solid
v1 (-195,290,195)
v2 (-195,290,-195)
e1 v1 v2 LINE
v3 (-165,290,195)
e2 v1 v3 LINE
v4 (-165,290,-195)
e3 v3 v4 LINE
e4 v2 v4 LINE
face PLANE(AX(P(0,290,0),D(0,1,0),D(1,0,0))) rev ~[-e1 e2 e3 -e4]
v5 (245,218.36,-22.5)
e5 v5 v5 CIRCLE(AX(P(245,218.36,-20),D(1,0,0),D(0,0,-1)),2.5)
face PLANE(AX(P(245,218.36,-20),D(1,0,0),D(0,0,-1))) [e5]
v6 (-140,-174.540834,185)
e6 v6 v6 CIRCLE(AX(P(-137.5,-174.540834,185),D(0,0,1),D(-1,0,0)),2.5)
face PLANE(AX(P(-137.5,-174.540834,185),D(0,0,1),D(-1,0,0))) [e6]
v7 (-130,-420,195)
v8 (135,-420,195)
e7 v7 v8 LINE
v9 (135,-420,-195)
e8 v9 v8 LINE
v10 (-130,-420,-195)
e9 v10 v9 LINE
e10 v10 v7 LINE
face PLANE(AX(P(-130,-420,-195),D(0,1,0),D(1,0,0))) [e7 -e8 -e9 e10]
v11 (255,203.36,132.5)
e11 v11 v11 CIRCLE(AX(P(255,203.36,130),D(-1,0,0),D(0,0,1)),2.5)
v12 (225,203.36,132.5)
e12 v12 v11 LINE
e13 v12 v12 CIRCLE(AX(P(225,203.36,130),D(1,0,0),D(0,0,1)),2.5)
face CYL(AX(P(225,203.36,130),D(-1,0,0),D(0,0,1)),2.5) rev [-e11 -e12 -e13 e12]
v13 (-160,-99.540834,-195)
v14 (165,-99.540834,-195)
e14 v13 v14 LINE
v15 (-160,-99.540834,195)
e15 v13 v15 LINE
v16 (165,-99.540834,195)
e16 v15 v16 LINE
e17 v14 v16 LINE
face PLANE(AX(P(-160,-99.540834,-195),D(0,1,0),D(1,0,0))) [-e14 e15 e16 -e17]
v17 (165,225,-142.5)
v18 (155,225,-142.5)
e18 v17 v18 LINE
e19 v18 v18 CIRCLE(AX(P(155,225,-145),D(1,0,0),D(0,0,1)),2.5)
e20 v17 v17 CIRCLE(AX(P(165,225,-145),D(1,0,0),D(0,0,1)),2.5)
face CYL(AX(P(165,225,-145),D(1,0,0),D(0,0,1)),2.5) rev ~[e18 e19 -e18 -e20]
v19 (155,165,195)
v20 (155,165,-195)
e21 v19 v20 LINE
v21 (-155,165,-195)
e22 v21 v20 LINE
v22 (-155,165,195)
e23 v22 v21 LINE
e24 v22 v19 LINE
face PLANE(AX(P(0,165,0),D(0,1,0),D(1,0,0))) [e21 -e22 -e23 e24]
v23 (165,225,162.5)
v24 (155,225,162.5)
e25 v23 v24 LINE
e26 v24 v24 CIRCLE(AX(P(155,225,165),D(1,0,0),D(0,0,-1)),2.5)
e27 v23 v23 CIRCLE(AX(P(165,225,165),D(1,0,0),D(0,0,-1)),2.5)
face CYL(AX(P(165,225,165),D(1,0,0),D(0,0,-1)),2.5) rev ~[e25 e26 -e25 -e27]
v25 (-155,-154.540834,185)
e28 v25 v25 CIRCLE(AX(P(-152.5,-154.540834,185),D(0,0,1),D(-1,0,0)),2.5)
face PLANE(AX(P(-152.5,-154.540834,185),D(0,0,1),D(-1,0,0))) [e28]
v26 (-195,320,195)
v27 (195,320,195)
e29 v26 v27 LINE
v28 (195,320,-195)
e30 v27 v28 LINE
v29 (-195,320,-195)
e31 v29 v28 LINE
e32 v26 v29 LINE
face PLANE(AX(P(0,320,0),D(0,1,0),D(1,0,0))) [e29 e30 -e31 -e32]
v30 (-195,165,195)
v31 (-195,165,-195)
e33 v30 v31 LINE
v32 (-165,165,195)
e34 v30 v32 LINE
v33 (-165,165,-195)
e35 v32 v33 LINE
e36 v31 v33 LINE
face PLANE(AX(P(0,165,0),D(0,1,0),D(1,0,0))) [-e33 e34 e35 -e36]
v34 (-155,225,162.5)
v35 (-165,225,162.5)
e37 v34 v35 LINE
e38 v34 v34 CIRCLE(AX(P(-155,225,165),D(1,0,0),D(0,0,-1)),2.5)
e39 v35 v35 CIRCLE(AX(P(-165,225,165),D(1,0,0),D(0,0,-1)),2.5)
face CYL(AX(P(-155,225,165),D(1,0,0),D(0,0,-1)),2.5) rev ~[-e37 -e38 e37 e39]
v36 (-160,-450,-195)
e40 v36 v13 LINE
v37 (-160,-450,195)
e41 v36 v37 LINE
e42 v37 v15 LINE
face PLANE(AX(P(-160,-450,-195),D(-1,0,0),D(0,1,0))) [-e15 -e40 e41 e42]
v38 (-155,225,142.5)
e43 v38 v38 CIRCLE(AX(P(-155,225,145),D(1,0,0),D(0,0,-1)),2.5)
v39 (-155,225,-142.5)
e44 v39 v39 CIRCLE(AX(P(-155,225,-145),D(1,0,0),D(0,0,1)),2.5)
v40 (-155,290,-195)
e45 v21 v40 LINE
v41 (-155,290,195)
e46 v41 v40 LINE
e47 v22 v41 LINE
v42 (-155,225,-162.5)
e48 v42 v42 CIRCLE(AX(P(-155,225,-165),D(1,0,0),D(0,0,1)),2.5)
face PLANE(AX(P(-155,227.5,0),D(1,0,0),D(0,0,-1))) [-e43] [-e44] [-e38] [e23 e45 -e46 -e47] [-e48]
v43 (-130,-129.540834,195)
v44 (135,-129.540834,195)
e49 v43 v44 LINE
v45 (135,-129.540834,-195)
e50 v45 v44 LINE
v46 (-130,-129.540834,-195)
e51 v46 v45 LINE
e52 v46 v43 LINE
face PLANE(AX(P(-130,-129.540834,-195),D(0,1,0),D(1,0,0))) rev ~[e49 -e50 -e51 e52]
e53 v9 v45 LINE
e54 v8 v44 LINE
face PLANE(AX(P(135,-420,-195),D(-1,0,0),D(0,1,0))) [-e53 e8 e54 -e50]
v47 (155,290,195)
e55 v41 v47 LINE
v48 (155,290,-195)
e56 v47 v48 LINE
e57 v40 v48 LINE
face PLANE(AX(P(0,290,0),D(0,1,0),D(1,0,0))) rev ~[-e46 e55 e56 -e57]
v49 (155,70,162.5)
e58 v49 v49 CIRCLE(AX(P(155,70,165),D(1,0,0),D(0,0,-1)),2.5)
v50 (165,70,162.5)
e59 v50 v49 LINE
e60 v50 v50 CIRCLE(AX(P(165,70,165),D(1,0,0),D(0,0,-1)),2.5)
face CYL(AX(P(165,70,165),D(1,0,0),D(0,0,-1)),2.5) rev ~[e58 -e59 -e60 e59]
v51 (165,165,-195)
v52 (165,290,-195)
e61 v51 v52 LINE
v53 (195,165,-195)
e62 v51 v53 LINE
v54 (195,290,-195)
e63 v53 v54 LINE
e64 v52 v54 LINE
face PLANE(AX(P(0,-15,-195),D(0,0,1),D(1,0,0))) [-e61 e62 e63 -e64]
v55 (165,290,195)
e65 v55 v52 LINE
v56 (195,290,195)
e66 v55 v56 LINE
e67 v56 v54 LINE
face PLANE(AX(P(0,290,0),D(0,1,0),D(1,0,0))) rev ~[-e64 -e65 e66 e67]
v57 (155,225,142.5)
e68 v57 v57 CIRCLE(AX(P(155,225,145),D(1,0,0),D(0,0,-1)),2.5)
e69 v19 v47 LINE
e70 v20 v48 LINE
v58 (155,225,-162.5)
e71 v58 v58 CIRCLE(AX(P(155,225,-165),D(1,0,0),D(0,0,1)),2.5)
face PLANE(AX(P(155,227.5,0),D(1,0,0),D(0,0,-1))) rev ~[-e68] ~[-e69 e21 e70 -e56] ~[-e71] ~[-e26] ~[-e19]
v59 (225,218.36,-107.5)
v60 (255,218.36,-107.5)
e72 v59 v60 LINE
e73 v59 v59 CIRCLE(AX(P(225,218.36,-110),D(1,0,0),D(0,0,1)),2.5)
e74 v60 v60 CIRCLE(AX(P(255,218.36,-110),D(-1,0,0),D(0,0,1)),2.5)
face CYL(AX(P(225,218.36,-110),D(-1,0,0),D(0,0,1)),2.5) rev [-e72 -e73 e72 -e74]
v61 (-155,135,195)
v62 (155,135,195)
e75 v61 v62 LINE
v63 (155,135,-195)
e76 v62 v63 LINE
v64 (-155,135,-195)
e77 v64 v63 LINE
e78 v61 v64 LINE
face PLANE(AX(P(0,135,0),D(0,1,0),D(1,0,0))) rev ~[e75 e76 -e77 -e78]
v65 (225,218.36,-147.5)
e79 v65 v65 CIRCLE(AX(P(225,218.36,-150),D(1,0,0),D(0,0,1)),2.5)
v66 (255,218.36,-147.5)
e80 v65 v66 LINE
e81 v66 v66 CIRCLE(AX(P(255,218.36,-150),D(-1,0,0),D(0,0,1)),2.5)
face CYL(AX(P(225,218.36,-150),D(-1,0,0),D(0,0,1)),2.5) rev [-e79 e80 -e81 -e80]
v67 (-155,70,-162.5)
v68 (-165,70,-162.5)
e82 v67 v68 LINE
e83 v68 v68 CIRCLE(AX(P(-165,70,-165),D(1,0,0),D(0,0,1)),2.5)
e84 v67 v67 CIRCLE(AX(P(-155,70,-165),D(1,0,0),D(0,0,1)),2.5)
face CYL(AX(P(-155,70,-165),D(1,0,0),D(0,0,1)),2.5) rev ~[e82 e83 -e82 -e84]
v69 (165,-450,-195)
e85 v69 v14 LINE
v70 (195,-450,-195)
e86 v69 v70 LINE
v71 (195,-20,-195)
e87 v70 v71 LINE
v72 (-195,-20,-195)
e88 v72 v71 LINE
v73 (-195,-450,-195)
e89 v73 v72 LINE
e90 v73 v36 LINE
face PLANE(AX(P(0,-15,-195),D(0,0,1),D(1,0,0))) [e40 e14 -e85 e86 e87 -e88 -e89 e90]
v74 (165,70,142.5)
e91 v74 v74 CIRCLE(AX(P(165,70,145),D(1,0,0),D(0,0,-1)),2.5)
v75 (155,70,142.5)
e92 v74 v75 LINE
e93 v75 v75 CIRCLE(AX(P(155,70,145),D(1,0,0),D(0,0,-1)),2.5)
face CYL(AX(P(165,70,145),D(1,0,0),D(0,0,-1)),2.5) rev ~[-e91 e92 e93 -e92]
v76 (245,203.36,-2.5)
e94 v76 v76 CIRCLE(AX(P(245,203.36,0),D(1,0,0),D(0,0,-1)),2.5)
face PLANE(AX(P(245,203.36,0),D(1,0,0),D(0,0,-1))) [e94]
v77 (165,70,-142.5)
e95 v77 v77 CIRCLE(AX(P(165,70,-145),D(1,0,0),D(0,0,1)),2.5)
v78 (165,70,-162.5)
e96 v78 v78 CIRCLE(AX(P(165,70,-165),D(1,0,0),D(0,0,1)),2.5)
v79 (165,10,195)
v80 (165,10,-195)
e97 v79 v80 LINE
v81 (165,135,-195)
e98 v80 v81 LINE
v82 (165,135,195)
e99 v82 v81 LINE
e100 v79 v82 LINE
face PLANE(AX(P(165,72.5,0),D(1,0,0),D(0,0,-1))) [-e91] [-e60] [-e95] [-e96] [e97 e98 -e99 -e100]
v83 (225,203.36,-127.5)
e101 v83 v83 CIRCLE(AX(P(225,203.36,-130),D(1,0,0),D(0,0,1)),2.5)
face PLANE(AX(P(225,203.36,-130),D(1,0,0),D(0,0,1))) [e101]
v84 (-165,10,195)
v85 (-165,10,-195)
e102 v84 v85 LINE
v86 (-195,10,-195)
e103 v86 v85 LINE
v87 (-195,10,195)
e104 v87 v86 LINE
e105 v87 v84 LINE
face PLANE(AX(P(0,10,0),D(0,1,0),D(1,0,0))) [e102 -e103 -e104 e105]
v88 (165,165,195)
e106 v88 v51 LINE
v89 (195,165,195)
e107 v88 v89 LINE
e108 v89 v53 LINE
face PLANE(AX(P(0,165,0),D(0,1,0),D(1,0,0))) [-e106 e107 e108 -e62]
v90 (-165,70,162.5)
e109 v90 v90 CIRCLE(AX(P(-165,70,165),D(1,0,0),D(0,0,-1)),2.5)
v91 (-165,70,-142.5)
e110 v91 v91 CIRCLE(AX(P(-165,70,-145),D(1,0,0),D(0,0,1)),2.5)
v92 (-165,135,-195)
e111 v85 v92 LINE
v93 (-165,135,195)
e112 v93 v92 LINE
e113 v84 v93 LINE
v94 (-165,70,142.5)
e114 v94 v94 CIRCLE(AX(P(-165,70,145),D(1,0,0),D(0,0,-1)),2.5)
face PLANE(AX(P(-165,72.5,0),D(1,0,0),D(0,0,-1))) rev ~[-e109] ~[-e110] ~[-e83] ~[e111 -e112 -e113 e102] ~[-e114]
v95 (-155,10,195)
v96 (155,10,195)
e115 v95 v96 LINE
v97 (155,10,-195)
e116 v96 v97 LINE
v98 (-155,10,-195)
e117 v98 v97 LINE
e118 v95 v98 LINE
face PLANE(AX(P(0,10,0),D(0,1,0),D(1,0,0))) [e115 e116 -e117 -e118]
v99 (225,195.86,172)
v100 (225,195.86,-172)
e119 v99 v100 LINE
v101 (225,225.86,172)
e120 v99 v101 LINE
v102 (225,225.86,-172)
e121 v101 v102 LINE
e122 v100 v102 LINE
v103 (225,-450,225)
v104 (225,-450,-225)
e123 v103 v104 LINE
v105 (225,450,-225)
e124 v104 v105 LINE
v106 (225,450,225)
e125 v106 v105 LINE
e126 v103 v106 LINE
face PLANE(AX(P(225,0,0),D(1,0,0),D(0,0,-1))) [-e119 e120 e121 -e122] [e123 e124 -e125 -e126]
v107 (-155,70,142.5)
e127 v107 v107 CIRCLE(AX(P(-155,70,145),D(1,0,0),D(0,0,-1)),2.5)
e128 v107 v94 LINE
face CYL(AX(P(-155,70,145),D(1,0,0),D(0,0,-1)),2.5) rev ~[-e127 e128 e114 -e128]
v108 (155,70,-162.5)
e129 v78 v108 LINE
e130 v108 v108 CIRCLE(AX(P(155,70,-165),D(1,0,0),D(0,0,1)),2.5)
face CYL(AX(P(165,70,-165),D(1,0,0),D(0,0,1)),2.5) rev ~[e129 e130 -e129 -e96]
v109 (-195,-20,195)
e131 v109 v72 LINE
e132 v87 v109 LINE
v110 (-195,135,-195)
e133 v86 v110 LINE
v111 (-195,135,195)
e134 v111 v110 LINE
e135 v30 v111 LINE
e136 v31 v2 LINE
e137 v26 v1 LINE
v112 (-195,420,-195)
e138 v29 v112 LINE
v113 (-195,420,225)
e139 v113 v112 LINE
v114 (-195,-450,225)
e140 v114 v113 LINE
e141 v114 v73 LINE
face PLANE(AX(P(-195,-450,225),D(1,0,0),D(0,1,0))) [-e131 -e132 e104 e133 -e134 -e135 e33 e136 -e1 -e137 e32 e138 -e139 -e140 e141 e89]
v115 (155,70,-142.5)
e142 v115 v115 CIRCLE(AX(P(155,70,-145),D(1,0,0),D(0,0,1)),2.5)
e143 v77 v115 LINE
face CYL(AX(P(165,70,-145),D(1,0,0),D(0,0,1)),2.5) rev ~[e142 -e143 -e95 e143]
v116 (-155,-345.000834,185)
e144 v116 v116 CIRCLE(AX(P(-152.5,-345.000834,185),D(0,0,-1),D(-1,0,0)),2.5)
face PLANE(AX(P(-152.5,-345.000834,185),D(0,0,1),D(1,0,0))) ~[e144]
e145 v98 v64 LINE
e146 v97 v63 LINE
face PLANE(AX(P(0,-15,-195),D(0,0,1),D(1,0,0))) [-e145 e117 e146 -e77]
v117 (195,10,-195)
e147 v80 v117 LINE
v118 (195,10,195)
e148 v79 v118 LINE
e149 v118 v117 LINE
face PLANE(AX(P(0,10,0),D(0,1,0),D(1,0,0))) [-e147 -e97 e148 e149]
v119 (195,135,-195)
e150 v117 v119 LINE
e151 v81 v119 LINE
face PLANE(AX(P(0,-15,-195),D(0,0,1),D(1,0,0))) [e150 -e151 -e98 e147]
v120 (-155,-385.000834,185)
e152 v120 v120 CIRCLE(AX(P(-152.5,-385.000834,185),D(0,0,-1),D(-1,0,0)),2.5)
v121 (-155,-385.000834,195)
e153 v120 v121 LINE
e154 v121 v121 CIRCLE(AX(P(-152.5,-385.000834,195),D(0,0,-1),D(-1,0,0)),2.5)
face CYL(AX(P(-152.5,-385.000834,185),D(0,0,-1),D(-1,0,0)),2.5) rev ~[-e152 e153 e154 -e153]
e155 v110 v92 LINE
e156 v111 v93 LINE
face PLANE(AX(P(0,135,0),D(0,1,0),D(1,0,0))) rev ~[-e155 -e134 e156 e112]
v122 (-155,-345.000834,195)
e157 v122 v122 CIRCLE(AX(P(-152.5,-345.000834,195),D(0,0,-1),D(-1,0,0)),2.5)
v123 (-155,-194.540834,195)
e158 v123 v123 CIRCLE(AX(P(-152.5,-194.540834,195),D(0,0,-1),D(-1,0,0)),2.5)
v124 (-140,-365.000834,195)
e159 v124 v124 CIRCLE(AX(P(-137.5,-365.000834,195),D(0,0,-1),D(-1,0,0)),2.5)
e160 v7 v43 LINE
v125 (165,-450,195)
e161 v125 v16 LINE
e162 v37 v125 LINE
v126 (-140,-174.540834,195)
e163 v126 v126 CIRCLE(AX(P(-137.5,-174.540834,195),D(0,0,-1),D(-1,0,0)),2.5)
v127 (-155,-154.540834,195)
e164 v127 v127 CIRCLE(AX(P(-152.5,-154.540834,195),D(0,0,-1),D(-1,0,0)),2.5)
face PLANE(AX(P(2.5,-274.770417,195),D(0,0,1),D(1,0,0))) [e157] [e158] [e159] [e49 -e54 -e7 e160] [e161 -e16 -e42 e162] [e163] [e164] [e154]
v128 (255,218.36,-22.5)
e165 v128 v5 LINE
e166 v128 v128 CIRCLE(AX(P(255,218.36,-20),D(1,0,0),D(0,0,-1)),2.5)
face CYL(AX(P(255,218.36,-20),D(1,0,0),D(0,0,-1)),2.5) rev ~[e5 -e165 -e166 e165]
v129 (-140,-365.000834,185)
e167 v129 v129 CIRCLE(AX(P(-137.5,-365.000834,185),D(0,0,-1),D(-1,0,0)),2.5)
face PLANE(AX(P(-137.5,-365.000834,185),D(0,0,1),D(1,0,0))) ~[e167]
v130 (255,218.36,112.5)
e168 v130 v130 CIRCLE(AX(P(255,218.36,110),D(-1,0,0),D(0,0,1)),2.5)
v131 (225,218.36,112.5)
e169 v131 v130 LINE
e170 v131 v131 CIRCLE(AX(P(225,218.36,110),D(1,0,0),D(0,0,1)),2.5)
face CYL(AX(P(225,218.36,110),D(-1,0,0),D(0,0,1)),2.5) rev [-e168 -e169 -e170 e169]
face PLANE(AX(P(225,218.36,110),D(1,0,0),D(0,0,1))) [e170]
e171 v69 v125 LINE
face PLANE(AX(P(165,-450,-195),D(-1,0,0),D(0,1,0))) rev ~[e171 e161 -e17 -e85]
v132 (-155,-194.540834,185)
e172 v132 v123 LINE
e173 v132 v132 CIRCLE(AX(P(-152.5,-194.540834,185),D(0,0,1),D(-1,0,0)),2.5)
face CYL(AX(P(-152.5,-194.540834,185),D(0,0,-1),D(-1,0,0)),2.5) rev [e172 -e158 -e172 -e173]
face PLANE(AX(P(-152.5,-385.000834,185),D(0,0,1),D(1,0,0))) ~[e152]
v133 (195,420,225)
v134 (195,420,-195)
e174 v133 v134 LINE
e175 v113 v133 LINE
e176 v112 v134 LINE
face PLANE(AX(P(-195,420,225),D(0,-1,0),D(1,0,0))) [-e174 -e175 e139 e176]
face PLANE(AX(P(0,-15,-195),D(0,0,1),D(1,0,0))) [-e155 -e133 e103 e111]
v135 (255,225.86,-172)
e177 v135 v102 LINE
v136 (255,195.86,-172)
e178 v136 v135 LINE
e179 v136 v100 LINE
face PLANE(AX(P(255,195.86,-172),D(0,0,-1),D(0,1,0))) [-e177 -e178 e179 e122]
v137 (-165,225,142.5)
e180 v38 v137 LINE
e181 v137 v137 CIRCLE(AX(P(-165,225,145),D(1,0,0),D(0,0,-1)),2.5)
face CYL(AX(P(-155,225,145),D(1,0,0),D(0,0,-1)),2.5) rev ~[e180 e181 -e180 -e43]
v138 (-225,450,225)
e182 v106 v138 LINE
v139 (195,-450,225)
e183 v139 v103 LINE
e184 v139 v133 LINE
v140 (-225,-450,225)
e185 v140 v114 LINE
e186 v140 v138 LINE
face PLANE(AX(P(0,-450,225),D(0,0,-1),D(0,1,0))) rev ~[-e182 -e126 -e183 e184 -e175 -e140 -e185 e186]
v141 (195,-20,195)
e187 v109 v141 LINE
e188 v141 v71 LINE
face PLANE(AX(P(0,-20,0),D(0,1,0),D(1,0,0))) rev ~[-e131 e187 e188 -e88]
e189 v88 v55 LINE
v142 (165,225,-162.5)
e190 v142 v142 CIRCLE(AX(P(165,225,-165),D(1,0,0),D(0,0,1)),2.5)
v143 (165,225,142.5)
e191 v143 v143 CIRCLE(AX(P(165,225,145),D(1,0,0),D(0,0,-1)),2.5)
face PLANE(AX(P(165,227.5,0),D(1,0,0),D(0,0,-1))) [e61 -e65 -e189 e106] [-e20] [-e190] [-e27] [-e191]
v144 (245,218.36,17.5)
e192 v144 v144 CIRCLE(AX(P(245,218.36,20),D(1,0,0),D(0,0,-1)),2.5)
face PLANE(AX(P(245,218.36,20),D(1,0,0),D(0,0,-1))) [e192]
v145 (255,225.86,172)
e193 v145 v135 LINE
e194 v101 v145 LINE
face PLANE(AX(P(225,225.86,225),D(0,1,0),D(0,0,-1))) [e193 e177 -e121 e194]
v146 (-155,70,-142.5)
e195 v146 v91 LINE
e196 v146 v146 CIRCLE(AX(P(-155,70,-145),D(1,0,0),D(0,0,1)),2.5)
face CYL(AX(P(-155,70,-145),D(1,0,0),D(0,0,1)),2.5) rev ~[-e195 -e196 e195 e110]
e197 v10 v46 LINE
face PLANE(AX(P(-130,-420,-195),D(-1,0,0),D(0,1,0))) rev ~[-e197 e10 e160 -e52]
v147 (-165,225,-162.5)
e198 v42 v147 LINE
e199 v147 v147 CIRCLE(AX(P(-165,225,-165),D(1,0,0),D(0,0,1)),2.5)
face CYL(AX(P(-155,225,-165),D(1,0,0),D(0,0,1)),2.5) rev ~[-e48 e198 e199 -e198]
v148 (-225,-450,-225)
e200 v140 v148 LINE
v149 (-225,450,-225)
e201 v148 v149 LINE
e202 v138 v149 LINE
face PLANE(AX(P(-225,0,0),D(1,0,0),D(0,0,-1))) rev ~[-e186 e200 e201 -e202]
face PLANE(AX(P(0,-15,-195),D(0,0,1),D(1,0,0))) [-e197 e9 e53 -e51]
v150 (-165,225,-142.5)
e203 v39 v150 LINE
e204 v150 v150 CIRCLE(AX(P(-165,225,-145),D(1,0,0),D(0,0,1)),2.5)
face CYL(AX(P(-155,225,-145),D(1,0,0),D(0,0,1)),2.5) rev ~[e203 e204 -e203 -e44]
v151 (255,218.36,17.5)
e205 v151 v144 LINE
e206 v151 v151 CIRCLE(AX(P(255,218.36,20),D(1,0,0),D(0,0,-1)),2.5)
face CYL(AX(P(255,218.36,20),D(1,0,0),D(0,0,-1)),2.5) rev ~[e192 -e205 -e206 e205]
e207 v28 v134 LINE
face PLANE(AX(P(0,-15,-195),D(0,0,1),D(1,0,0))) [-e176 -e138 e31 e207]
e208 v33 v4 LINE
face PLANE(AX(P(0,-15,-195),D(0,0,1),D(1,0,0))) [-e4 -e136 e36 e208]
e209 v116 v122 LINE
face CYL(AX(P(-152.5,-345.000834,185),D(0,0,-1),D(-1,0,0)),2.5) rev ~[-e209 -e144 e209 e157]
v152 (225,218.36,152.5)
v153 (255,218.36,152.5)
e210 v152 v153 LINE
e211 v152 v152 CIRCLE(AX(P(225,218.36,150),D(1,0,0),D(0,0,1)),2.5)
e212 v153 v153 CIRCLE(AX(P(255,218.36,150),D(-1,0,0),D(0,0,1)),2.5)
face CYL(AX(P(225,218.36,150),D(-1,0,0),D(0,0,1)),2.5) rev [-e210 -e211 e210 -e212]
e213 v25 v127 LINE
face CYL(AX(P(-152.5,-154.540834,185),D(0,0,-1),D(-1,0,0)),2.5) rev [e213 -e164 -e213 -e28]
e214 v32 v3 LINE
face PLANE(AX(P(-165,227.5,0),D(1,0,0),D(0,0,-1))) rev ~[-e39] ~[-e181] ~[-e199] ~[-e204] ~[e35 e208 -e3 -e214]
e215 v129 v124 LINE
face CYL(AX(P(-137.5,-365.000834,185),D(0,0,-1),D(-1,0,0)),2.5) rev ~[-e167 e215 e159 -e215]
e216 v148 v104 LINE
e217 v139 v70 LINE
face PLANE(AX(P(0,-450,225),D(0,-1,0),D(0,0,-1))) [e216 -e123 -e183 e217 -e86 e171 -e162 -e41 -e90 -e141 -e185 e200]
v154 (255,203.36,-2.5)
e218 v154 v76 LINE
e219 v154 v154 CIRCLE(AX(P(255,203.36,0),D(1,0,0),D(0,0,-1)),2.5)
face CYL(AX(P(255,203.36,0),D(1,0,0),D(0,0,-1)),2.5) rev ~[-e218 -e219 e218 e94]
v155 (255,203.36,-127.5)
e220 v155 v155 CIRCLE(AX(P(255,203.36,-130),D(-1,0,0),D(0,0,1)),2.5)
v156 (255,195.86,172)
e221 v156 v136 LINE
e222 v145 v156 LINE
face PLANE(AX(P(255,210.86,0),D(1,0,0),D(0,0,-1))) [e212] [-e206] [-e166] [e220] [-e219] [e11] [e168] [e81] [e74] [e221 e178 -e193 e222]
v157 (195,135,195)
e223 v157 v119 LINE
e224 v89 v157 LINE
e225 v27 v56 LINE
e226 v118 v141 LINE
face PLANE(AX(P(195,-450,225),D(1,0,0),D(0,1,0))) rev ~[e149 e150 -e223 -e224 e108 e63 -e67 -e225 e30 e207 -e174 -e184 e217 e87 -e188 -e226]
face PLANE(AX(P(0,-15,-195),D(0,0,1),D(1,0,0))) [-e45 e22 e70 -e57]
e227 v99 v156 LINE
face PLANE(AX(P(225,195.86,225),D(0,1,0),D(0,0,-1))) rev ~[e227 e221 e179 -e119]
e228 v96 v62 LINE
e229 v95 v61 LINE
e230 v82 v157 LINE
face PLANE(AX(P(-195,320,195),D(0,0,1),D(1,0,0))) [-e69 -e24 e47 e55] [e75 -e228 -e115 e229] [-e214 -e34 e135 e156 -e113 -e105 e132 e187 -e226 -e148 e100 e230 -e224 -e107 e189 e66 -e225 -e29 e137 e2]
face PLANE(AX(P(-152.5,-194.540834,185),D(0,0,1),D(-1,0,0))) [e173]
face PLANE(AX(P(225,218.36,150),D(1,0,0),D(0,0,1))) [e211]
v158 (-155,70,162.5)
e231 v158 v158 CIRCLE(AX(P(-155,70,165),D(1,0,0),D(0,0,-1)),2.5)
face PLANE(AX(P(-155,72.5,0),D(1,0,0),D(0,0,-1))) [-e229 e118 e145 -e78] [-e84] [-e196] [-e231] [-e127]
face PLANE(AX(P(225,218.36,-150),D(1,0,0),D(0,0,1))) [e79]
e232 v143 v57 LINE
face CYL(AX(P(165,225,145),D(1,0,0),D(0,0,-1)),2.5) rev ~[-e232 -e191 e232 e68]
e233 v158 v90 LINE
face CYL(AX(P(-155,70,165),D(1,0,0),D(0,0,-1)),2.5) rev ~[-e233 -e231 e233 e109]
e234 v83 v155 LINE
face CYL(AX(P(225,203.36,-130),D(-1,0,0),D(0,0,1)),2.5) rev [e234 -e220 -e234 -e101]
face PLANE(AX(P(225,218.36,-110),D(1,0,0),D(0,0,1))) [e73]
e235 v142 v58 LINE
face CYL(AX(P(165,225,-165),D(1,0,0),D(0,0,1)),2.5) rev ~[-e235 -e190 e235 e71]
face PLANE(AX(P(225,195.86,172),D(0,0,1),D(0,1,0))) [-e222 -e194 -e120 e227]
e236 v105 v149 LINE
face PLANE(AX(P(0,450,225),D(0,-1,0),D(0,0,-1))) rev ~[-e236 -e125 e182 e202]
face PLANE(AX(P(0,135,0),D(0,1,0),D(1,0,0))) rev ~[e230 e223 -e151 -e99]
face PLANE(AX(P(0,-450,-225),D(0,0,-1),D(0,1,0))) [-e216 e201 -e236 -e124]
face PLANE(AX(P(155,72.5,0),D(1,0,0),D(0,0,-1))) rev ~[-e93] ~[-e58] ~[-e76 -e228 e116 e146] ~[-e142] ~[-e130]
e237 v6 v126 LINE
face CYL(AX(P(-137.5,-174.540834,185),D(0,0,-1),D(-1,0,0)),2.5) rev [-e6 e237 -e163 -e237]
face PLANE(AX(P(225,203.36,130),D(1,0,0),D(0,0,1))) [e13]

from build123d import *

# Parameters (mm, degrees)
SKETCH1_W            = 450
SKETCH1_H            = 900
BOSS_EXTRUDE1_DEPTH  = 225
SKETCH2_W            = 390
SKETCH2_H            = 870
CUT_EXTRUDE1_DEPTH   = 420
SKETCH3_W            = 390
SKETCH3_H            = 390
BOSS_EXTRUDE2_DEPTH  = 30
LPATTERN1_COUNT      = 3
LPATTERN1_PITCH      = 155
SKETCH5_W            = 325
SKETCH5_H            = 350.459165748
SKETCH5_W_2          = 265
SKETCH5_H_2          = 290.459165748
BOSS_EXTRUDE4_DEPTH  = 390
SKETCH6_W            = 390
SKETCH6_H            = 125
BOSS_EXTRUDE5_DEPTH  = 10
LPATTERN2_COUNT      = 2
LPATTERN2_PITCH      = 155
LPATTERN2_COUNT_DIR2 = 2
LPATTERN2_PITCH_DIR2 = 320
CUT_EXTRUDE2_REACH   = 632.496
SKETCH10_R           = 2.5
LPATTERN3_COUNT      = 2
LPATTERN3_PITCH      = 155
LPATTERN3_COUNT_DIR2 = 2
LPATTERN3_PITCH_DIR2 = 320
SKETCH13_W           = 450
SKETCH13_H           = 30
BOSS_EXTRUDE6_DEPTH  = 30
CUT_EXTRUDE4_REACH   = 677
SKETCH12_R           = 2.5
CUT_EXTRUDE5_START   = -10
SKETCH17_R           = 2.5
CUT_EXTRUDE5_DEPTH   = 677.276969435
SKETCH18_W           = 53
SKETCH18_H           = 30
CUT_EXTRUDE6_DEPTH   = 676
SKETCH19_W           = 53
SKETCH19_H           = 30
CUT_EXTRUDE7_DEPTH   = 30
SKETCH20_R           = 2.5
CUT_EXTRUDE8_DEPTH   = 10


with BuildPart() as part:
    # Sketch1 → Boss-Extrude1 (new, symmetric)
    with BuildSketch(Plane(origin=(0, 0, 0), x_dir=(0, 0, -1), z_dir=(1, 0, 0))):
        Rectangle(SKETCH1_W, SKETCH1_H)
    extrude(amount=BOSS_EXTRUDE1_DEPTH, both=True)

    # Sketch2 → Cut-Extrude1 (cut)
    with BuildSketch(Plane.XY.offset(225)):
        with Locations((0, -15)):
            Rectangle(SKETCH2_W, SKETCH2_H)
    extrude(amount=-CUT_EXTRUDE1_DEPTH, mode=Mode.SUBTRACT)

    # Sketch3 → Boss-Extrude2 (add)
    with BuildSketch(Plane(origin=(0, 320, 0), x_dir=(1, 0, 0), z_dir=(0, 1, 0))):
        Rectangle(SKETCH3_W, SKETCH3_H)
    boss_extrude2 = extrude(amount=-BOSS_EXTRUDE2_DEPTH)

    # LPattern1: Boss-Extrude2 ×3
    with Locations(*[(0, -i * LPATTERN1_PITCH, 0) for i in range(1, LPATTERN1_COUNT)]):
        add(boss_extrude2)

    # Sketch5 → Boss-Extrude4 (add)
    with BuildSketch(Plane.XY.offset(-195)):
        with Locations((2.5, -274.770417126)):
            Rectangle(SKETCH5_W, SKETCH5_H)
        with Locations((2.5, -274.770417126)):
            Rectangle(SKETCH5_W_2, SKETCH5_H_2, mode=Mode.SUBTRACT)
    extrude(amount=BOSS_EXTRUDE4_DEPTH)

    # Sketch6 → Boss-Extrude5 (add)
    with BuildSketch(Plane(origin=(-165, 0, 0), x_dir=(0, 0, -1), z_dir=(1, 0, 0))):
        with Locations((0, 227.5)):
            Rectangle(SKETCH6_W, SKETCH6_H)
    boss_extrude5 = extrude(amount=BOSS_EXTRUDE5_DEPTH)

    # LPattern2: Boss-Extrude5 2 × 2
    with Locations(*[(j * LPATTERN2_PITCH_DIR2, -i * LPATTERN2_PITCH, 0) for i in range(LPATTERN2_COUNT) for j in range(LPATTERN2_COUNT_DIR2) if (i, j) != (0, 0)]):
        add(boss_extrude5)

    # Sketch10 → Cut-Extrude2 (cut, up to next)
    with BuildSketch(Plane(origin=(-155, 0, 0), x_dir=(0, 0, -1), z_dir=(1, 0, 0)), mode=Mode.PRIVATE) as cut_extrude2_sk1:
        with Locations((-165, 225)):
            Circle(SKETCH10_R)
    cut_extrude2_tool1 = extrude(cut_extrude2_sk1.sketch, amount=-CUT_EXTRUDE2_REACH, mode=Mode.PRIVATE) & part.part
    # Sketch10 → Cut-Extrude2 (cut, up to next)
    with BuildSketch(Plane(origin=(-155, 0, 0), x_dir=(0, 0, -1), z_dir=(1, 0, 0)), mode=Mode.PRIVATE) as cut_extrude2_sk2:
        with Locations((-145, 225)):
            Circle(SKETCH10_R)
    cut_extrude2_tool2 = extrude(cut_extrude2_sk2.sketch, amount=-CUT_EXTRUDE2_REACH, mode=Mode.PRIVATE) & part.part
    # Sketch10 → Cut-Extrude2 (cut, up to next)
    with BuildSketch(Plane(origin=(-155, 0, 0), x_dir=(0, 0, -1), z_dir=(1, 0, 0)), mode=Mode.PRIVATE) as cut_extrude2_sk3:
        with Locations(Location((145, 225, 0), (0, 0, 180))):
            Circle(SKETCH10_R)
    cut_extrude2_tool3 = extrude(cut_extrude2_sk3.sketch, amount=-CUT_EXTRUDE2_REACH, mode=Mode.PRIVATE) & part.part
    # Sketch10 → Cut-Extrude2 (cut, up to next)
    with BuildSketch(Plane(origin=(-155, 0, 0), x_dir=(0, 0, -1), z_dir=(1, 0, 0)), mode=Mode.PRIVATE) as cut_extrude2_sk4:
        with Locations(Location((165, 225, 0), (0, 0, 180))):
            Circle(SKETCH10_R)
    cut_extrude2_tool4 = extrude(cut_extrude2_sk4.sketch, amount=-CUT_EXTRUDE2_REACH, mode=Mode.PRIVATE) & part.part
    cut_extrude2_1 = cut_extrude2_tool1.solids().sort_by_distance((-155, 225, 165))[0]
    add(cut_extrude2_1, mode=Mode.SUBTRACT)
    cut_extrude2_2 = cut_extrude2_tool2.solids().sort_by_distance((-155, 225, 145))[0]
    add(cut_extrude2_2, mode=Mode.SUBTRACT)
    cut_extrude2_3 = cut_extrude2_tool3.solids().sort_by_distance((-155, 225, -145))[0]
    add(cut_extrude2_3, mode=Mode.SUBTRACT)
    cut_extrude2_4 = cut_extrude2_tool4.solids().sort_by_distance((-155, 225, -165))[0]
    add(cut_extrude2_4, mode=Mode.SUBTRACT)
    cut_extrude2 = cut_extrude2_1 + cut_extrude2_2 + cut_extrude2_3 + cut_extrude2_4  # Cut-Extrude2 as one shape, for the pattern or mirror that repeats it

    # LPattern3: Cut-Extrude2 2 × 2
    with Locations(*[(j * LPATTERN3_PITCH_DIR2, -i * LPATTERN3_PITCH, 0) for i in range(LPATTERN3_COUNT) for j in range(LPATTERN3_COUNT_DIR2) if (i, j) != (0, 0)]):
        add(cut_extrude2, mode=Mode.SUBTRACT)

    # Sketch13 → Boss-Extrude6 (add)
    with BuildSketch(Plane(origin=(225, 0, 0), x_dir=(0, 0, -1), z_dir=(1, 0, 0))):
        with Locations((0, 210.86)):
            Rectangle(SKETCH13_W, SKETCH13_H)
    extrude(amount=BOSS_EXTRUDE6_DEPTH)

    # Sketch12 → Cut-Extrude4 (cut, up to next)
    with BuildSketch(Plane(origin=(225, 0, 0), x_dir=(0, 0, -1), z_dir=(1, 0, 0)), mode=Mode.PRIVATE) as cut_extrude4_sk1:
        with Locations(Location((-150, 218.36, 0), (0, 0, 180))):
            Circle(SKETCH12_R)
    cut_extrude4_tool1 = extrude(cut_extrude4_sk1.sketch, amount=CUT_EXTRUDE4_REACH, mode=Mode.PRIVATE) & part.part
    # Sketch12 → Cut-Extrude4 (cut, up to next)
    with BuildSketch(Plane(origin=(225, 0, 0), x_dir=(0, 0, -1), z_dir=(1, 0, 0)), mode=Mode.PRIVATE) as cut_extrude4_sk2:
        with Locations(Location((-110, 218.36, 0), (0, 0, 180))):
            Circle(SKETCH12_R)
    cut_extrude4_tool2 = extrude(cut_extrude4_sk2.sketch, amount=CUT_EXTRUDE4_REACH, mode=Mode.PRIVATE) & part.part
    # Sketch12 → Cut-Extrude4 (cut, up to next)
    with BuildSketch(Plane(origin=(225, 0, 0), x_dir=(0, 0, -1), z_dir=(1, 0, 0)), mode=Mode.PRIVATE) as cut_extrude4_sk3:
        with Locations(Location((-130, 203.36, 0), (0, 0, 180))):
            Circle(SKETCH12_R)
    cut_extrude4_tool3 = extrude(cut_extrude4_sk3.sketch, amount=CUT_EXTRUDE4_REACH, mode=Mode.PRIVATE) & part.part
    # Sketch12 → Cut-Extrude4 (cut, up to next)
    with BuildSketch(Plane(origin=(225, 0, 0), x_dir=(0, 0, -1), z_dir=(1, 0, 0)), mode=Mode.PRIVATE) as cut_extrude4_sk4:
        with Locations(Location((110, 218.36, 0), (0, 0, 180))):
            Circle(SKETCH12_R)
    cut_extrude4_tool4 = extrude(cut_extrude4_sk4.sketch, amount=CUT_EXTRUDE4_REACH, mode=Mode.PRIVATE) & part.part
    # Sketch12 → Cut-Extrude4 (cut, up to next)
    with BuildSketch(Plane(origin=(225, 0, 0), x_dir=(0, 0, -1), z_dir=(1, 0, 0)), mode=Mode.PRIVATE) as cut_extrude4_sk5:
        with Locations(Location((130, 203.36, 0), (0, 0, 180))):
            Circle(SKETCH12_R)
    cut_extrude4_tool5 = extrude(cut_extrude4_sk5.sketch, amount=CUT_EXTRUDE4_REACH, mode=Mode.PRIVATE) & part.part
    # Sketch12 → Cut-Extrude4 (cut, up to next)
    with BuildSketch(Plane(origin=(225, 0, 0), x_dir=(0, 0, -1), z_dir=(1, 0, 0)), mode=Mode.PRIVATE) as cut_extrude4_sk6:
        with Locations(Location((150, 218.36, 0), (0, 0, 180))):
            Circle(SKETCH12_R)
    cut_extrude4_tool6 = extrude(cut_extrude4_sk6.sketch, amount=CUT_EXTRUDE4_REACH, mode=Mode.PRIVATE) & part.part
    add(cut_extrude4_tool1.solids().sort_by_distance((225, 218.36, 150))[0], mode=Mode.SUBTRACT)
    add(cut_extrude4_tool2.solids().sort_by_distance((225, 218.36, 110))[0], mode=Mode.SUBTRACT)
    add(cut_extrude4_tool3.solids().sort_by_distance((225, 203.36, 130))[0], mode=Mode.SUBTRACT)
    add(cut_extrude4_tool4.solids().sort_by_distance((225, 218.36, -110))[0], mode=Mode.SUBTRACT)
    add(cut_extrude4_tool5.solids().sort_by_distance((225, 203.36, -130))[0], mode=Mode.SUBTRACT)
    add(cut_extrude4_tool6.solids().sort_by_distance((225, 218.36, -150))[0], mode=Mode.SUBTRACT)

    # Sketch17 → Cut-Extrude5 (cut)
    with BuildSketch(Plane.XY.offset(195).offset(CUT_EXTRUDE5_START)):
        with Locations(Location((-152.5, -194.540834252, 0), (0, 0, 180))):
            Circle(SKETCH17_R)
        with Locations(Location((-137.5, -174.540834252, 0), (0, 0, 180))):
            Circle(SKETCH17_R)
        with Locations(Location((-152.5, -154.540834252, 0), (0, 0, 180))):
            Circle(SKETCH17_R)
    cut_extrude5 = extrude(amount=CUT_EXTRUDE5_DEPTH, mode=Mode.SUBTRACT)

    # Mirror1: Cut-Extrude5 across plane
    add(cut_extrude5.mirror(Plane.ZX.offset(-269.770834252)), mode=Mode.SUBTRACT)

    # Sketch18 → Cut-Extrude6 (cut, through all)
    with BuildSketch(Plane(origin=(225, 0, 0), x_dir=(0, 0, -1), z_dir=(1, 0, 0))):
        with Locations((-198.5, 210.86)):
            Rectangle(SKETCH18_W, SKETCH18_H)
    extrude(amount=CUT_EXTRUDE6_DEPTH, mode=Mode.SUBTRACT)

    # Sketch19 → Cut-Extrude7 (cut)
    with BuildSketch(Plane(origin=(255, 0, 0), x_dir=(0, 0, -1), z_dir=(1, 0, 0))):
        with Locations((198.5, 210.86)):
            Rectangle(SKETCH19_W, SKETCH19_H)
    extrude(amount=-CUT_EXTRUDE7_DEPTH, mode=Mode.SUBTRACT)

    # Sketch20 → Cut-Extrude8 (cut)
    with BuildSketch(Plane(origin=(255, 0, 0), x_dir=(0, 0, -1), z_dir=(1, 0, 0))):
        with Locations((-20, 218.36)):
            Circle(SKETCH20_R)
        with Locations((0, 203.36)):
            Circle(SKETCH20_R)
        with Locations((20, 218.36)):
            Circle(SKETCH20_R)
    extrude(amount=-CUT_EXTRUDE8_DEPTH, mode=Mode.SUBTRACT)


solid = part.part
